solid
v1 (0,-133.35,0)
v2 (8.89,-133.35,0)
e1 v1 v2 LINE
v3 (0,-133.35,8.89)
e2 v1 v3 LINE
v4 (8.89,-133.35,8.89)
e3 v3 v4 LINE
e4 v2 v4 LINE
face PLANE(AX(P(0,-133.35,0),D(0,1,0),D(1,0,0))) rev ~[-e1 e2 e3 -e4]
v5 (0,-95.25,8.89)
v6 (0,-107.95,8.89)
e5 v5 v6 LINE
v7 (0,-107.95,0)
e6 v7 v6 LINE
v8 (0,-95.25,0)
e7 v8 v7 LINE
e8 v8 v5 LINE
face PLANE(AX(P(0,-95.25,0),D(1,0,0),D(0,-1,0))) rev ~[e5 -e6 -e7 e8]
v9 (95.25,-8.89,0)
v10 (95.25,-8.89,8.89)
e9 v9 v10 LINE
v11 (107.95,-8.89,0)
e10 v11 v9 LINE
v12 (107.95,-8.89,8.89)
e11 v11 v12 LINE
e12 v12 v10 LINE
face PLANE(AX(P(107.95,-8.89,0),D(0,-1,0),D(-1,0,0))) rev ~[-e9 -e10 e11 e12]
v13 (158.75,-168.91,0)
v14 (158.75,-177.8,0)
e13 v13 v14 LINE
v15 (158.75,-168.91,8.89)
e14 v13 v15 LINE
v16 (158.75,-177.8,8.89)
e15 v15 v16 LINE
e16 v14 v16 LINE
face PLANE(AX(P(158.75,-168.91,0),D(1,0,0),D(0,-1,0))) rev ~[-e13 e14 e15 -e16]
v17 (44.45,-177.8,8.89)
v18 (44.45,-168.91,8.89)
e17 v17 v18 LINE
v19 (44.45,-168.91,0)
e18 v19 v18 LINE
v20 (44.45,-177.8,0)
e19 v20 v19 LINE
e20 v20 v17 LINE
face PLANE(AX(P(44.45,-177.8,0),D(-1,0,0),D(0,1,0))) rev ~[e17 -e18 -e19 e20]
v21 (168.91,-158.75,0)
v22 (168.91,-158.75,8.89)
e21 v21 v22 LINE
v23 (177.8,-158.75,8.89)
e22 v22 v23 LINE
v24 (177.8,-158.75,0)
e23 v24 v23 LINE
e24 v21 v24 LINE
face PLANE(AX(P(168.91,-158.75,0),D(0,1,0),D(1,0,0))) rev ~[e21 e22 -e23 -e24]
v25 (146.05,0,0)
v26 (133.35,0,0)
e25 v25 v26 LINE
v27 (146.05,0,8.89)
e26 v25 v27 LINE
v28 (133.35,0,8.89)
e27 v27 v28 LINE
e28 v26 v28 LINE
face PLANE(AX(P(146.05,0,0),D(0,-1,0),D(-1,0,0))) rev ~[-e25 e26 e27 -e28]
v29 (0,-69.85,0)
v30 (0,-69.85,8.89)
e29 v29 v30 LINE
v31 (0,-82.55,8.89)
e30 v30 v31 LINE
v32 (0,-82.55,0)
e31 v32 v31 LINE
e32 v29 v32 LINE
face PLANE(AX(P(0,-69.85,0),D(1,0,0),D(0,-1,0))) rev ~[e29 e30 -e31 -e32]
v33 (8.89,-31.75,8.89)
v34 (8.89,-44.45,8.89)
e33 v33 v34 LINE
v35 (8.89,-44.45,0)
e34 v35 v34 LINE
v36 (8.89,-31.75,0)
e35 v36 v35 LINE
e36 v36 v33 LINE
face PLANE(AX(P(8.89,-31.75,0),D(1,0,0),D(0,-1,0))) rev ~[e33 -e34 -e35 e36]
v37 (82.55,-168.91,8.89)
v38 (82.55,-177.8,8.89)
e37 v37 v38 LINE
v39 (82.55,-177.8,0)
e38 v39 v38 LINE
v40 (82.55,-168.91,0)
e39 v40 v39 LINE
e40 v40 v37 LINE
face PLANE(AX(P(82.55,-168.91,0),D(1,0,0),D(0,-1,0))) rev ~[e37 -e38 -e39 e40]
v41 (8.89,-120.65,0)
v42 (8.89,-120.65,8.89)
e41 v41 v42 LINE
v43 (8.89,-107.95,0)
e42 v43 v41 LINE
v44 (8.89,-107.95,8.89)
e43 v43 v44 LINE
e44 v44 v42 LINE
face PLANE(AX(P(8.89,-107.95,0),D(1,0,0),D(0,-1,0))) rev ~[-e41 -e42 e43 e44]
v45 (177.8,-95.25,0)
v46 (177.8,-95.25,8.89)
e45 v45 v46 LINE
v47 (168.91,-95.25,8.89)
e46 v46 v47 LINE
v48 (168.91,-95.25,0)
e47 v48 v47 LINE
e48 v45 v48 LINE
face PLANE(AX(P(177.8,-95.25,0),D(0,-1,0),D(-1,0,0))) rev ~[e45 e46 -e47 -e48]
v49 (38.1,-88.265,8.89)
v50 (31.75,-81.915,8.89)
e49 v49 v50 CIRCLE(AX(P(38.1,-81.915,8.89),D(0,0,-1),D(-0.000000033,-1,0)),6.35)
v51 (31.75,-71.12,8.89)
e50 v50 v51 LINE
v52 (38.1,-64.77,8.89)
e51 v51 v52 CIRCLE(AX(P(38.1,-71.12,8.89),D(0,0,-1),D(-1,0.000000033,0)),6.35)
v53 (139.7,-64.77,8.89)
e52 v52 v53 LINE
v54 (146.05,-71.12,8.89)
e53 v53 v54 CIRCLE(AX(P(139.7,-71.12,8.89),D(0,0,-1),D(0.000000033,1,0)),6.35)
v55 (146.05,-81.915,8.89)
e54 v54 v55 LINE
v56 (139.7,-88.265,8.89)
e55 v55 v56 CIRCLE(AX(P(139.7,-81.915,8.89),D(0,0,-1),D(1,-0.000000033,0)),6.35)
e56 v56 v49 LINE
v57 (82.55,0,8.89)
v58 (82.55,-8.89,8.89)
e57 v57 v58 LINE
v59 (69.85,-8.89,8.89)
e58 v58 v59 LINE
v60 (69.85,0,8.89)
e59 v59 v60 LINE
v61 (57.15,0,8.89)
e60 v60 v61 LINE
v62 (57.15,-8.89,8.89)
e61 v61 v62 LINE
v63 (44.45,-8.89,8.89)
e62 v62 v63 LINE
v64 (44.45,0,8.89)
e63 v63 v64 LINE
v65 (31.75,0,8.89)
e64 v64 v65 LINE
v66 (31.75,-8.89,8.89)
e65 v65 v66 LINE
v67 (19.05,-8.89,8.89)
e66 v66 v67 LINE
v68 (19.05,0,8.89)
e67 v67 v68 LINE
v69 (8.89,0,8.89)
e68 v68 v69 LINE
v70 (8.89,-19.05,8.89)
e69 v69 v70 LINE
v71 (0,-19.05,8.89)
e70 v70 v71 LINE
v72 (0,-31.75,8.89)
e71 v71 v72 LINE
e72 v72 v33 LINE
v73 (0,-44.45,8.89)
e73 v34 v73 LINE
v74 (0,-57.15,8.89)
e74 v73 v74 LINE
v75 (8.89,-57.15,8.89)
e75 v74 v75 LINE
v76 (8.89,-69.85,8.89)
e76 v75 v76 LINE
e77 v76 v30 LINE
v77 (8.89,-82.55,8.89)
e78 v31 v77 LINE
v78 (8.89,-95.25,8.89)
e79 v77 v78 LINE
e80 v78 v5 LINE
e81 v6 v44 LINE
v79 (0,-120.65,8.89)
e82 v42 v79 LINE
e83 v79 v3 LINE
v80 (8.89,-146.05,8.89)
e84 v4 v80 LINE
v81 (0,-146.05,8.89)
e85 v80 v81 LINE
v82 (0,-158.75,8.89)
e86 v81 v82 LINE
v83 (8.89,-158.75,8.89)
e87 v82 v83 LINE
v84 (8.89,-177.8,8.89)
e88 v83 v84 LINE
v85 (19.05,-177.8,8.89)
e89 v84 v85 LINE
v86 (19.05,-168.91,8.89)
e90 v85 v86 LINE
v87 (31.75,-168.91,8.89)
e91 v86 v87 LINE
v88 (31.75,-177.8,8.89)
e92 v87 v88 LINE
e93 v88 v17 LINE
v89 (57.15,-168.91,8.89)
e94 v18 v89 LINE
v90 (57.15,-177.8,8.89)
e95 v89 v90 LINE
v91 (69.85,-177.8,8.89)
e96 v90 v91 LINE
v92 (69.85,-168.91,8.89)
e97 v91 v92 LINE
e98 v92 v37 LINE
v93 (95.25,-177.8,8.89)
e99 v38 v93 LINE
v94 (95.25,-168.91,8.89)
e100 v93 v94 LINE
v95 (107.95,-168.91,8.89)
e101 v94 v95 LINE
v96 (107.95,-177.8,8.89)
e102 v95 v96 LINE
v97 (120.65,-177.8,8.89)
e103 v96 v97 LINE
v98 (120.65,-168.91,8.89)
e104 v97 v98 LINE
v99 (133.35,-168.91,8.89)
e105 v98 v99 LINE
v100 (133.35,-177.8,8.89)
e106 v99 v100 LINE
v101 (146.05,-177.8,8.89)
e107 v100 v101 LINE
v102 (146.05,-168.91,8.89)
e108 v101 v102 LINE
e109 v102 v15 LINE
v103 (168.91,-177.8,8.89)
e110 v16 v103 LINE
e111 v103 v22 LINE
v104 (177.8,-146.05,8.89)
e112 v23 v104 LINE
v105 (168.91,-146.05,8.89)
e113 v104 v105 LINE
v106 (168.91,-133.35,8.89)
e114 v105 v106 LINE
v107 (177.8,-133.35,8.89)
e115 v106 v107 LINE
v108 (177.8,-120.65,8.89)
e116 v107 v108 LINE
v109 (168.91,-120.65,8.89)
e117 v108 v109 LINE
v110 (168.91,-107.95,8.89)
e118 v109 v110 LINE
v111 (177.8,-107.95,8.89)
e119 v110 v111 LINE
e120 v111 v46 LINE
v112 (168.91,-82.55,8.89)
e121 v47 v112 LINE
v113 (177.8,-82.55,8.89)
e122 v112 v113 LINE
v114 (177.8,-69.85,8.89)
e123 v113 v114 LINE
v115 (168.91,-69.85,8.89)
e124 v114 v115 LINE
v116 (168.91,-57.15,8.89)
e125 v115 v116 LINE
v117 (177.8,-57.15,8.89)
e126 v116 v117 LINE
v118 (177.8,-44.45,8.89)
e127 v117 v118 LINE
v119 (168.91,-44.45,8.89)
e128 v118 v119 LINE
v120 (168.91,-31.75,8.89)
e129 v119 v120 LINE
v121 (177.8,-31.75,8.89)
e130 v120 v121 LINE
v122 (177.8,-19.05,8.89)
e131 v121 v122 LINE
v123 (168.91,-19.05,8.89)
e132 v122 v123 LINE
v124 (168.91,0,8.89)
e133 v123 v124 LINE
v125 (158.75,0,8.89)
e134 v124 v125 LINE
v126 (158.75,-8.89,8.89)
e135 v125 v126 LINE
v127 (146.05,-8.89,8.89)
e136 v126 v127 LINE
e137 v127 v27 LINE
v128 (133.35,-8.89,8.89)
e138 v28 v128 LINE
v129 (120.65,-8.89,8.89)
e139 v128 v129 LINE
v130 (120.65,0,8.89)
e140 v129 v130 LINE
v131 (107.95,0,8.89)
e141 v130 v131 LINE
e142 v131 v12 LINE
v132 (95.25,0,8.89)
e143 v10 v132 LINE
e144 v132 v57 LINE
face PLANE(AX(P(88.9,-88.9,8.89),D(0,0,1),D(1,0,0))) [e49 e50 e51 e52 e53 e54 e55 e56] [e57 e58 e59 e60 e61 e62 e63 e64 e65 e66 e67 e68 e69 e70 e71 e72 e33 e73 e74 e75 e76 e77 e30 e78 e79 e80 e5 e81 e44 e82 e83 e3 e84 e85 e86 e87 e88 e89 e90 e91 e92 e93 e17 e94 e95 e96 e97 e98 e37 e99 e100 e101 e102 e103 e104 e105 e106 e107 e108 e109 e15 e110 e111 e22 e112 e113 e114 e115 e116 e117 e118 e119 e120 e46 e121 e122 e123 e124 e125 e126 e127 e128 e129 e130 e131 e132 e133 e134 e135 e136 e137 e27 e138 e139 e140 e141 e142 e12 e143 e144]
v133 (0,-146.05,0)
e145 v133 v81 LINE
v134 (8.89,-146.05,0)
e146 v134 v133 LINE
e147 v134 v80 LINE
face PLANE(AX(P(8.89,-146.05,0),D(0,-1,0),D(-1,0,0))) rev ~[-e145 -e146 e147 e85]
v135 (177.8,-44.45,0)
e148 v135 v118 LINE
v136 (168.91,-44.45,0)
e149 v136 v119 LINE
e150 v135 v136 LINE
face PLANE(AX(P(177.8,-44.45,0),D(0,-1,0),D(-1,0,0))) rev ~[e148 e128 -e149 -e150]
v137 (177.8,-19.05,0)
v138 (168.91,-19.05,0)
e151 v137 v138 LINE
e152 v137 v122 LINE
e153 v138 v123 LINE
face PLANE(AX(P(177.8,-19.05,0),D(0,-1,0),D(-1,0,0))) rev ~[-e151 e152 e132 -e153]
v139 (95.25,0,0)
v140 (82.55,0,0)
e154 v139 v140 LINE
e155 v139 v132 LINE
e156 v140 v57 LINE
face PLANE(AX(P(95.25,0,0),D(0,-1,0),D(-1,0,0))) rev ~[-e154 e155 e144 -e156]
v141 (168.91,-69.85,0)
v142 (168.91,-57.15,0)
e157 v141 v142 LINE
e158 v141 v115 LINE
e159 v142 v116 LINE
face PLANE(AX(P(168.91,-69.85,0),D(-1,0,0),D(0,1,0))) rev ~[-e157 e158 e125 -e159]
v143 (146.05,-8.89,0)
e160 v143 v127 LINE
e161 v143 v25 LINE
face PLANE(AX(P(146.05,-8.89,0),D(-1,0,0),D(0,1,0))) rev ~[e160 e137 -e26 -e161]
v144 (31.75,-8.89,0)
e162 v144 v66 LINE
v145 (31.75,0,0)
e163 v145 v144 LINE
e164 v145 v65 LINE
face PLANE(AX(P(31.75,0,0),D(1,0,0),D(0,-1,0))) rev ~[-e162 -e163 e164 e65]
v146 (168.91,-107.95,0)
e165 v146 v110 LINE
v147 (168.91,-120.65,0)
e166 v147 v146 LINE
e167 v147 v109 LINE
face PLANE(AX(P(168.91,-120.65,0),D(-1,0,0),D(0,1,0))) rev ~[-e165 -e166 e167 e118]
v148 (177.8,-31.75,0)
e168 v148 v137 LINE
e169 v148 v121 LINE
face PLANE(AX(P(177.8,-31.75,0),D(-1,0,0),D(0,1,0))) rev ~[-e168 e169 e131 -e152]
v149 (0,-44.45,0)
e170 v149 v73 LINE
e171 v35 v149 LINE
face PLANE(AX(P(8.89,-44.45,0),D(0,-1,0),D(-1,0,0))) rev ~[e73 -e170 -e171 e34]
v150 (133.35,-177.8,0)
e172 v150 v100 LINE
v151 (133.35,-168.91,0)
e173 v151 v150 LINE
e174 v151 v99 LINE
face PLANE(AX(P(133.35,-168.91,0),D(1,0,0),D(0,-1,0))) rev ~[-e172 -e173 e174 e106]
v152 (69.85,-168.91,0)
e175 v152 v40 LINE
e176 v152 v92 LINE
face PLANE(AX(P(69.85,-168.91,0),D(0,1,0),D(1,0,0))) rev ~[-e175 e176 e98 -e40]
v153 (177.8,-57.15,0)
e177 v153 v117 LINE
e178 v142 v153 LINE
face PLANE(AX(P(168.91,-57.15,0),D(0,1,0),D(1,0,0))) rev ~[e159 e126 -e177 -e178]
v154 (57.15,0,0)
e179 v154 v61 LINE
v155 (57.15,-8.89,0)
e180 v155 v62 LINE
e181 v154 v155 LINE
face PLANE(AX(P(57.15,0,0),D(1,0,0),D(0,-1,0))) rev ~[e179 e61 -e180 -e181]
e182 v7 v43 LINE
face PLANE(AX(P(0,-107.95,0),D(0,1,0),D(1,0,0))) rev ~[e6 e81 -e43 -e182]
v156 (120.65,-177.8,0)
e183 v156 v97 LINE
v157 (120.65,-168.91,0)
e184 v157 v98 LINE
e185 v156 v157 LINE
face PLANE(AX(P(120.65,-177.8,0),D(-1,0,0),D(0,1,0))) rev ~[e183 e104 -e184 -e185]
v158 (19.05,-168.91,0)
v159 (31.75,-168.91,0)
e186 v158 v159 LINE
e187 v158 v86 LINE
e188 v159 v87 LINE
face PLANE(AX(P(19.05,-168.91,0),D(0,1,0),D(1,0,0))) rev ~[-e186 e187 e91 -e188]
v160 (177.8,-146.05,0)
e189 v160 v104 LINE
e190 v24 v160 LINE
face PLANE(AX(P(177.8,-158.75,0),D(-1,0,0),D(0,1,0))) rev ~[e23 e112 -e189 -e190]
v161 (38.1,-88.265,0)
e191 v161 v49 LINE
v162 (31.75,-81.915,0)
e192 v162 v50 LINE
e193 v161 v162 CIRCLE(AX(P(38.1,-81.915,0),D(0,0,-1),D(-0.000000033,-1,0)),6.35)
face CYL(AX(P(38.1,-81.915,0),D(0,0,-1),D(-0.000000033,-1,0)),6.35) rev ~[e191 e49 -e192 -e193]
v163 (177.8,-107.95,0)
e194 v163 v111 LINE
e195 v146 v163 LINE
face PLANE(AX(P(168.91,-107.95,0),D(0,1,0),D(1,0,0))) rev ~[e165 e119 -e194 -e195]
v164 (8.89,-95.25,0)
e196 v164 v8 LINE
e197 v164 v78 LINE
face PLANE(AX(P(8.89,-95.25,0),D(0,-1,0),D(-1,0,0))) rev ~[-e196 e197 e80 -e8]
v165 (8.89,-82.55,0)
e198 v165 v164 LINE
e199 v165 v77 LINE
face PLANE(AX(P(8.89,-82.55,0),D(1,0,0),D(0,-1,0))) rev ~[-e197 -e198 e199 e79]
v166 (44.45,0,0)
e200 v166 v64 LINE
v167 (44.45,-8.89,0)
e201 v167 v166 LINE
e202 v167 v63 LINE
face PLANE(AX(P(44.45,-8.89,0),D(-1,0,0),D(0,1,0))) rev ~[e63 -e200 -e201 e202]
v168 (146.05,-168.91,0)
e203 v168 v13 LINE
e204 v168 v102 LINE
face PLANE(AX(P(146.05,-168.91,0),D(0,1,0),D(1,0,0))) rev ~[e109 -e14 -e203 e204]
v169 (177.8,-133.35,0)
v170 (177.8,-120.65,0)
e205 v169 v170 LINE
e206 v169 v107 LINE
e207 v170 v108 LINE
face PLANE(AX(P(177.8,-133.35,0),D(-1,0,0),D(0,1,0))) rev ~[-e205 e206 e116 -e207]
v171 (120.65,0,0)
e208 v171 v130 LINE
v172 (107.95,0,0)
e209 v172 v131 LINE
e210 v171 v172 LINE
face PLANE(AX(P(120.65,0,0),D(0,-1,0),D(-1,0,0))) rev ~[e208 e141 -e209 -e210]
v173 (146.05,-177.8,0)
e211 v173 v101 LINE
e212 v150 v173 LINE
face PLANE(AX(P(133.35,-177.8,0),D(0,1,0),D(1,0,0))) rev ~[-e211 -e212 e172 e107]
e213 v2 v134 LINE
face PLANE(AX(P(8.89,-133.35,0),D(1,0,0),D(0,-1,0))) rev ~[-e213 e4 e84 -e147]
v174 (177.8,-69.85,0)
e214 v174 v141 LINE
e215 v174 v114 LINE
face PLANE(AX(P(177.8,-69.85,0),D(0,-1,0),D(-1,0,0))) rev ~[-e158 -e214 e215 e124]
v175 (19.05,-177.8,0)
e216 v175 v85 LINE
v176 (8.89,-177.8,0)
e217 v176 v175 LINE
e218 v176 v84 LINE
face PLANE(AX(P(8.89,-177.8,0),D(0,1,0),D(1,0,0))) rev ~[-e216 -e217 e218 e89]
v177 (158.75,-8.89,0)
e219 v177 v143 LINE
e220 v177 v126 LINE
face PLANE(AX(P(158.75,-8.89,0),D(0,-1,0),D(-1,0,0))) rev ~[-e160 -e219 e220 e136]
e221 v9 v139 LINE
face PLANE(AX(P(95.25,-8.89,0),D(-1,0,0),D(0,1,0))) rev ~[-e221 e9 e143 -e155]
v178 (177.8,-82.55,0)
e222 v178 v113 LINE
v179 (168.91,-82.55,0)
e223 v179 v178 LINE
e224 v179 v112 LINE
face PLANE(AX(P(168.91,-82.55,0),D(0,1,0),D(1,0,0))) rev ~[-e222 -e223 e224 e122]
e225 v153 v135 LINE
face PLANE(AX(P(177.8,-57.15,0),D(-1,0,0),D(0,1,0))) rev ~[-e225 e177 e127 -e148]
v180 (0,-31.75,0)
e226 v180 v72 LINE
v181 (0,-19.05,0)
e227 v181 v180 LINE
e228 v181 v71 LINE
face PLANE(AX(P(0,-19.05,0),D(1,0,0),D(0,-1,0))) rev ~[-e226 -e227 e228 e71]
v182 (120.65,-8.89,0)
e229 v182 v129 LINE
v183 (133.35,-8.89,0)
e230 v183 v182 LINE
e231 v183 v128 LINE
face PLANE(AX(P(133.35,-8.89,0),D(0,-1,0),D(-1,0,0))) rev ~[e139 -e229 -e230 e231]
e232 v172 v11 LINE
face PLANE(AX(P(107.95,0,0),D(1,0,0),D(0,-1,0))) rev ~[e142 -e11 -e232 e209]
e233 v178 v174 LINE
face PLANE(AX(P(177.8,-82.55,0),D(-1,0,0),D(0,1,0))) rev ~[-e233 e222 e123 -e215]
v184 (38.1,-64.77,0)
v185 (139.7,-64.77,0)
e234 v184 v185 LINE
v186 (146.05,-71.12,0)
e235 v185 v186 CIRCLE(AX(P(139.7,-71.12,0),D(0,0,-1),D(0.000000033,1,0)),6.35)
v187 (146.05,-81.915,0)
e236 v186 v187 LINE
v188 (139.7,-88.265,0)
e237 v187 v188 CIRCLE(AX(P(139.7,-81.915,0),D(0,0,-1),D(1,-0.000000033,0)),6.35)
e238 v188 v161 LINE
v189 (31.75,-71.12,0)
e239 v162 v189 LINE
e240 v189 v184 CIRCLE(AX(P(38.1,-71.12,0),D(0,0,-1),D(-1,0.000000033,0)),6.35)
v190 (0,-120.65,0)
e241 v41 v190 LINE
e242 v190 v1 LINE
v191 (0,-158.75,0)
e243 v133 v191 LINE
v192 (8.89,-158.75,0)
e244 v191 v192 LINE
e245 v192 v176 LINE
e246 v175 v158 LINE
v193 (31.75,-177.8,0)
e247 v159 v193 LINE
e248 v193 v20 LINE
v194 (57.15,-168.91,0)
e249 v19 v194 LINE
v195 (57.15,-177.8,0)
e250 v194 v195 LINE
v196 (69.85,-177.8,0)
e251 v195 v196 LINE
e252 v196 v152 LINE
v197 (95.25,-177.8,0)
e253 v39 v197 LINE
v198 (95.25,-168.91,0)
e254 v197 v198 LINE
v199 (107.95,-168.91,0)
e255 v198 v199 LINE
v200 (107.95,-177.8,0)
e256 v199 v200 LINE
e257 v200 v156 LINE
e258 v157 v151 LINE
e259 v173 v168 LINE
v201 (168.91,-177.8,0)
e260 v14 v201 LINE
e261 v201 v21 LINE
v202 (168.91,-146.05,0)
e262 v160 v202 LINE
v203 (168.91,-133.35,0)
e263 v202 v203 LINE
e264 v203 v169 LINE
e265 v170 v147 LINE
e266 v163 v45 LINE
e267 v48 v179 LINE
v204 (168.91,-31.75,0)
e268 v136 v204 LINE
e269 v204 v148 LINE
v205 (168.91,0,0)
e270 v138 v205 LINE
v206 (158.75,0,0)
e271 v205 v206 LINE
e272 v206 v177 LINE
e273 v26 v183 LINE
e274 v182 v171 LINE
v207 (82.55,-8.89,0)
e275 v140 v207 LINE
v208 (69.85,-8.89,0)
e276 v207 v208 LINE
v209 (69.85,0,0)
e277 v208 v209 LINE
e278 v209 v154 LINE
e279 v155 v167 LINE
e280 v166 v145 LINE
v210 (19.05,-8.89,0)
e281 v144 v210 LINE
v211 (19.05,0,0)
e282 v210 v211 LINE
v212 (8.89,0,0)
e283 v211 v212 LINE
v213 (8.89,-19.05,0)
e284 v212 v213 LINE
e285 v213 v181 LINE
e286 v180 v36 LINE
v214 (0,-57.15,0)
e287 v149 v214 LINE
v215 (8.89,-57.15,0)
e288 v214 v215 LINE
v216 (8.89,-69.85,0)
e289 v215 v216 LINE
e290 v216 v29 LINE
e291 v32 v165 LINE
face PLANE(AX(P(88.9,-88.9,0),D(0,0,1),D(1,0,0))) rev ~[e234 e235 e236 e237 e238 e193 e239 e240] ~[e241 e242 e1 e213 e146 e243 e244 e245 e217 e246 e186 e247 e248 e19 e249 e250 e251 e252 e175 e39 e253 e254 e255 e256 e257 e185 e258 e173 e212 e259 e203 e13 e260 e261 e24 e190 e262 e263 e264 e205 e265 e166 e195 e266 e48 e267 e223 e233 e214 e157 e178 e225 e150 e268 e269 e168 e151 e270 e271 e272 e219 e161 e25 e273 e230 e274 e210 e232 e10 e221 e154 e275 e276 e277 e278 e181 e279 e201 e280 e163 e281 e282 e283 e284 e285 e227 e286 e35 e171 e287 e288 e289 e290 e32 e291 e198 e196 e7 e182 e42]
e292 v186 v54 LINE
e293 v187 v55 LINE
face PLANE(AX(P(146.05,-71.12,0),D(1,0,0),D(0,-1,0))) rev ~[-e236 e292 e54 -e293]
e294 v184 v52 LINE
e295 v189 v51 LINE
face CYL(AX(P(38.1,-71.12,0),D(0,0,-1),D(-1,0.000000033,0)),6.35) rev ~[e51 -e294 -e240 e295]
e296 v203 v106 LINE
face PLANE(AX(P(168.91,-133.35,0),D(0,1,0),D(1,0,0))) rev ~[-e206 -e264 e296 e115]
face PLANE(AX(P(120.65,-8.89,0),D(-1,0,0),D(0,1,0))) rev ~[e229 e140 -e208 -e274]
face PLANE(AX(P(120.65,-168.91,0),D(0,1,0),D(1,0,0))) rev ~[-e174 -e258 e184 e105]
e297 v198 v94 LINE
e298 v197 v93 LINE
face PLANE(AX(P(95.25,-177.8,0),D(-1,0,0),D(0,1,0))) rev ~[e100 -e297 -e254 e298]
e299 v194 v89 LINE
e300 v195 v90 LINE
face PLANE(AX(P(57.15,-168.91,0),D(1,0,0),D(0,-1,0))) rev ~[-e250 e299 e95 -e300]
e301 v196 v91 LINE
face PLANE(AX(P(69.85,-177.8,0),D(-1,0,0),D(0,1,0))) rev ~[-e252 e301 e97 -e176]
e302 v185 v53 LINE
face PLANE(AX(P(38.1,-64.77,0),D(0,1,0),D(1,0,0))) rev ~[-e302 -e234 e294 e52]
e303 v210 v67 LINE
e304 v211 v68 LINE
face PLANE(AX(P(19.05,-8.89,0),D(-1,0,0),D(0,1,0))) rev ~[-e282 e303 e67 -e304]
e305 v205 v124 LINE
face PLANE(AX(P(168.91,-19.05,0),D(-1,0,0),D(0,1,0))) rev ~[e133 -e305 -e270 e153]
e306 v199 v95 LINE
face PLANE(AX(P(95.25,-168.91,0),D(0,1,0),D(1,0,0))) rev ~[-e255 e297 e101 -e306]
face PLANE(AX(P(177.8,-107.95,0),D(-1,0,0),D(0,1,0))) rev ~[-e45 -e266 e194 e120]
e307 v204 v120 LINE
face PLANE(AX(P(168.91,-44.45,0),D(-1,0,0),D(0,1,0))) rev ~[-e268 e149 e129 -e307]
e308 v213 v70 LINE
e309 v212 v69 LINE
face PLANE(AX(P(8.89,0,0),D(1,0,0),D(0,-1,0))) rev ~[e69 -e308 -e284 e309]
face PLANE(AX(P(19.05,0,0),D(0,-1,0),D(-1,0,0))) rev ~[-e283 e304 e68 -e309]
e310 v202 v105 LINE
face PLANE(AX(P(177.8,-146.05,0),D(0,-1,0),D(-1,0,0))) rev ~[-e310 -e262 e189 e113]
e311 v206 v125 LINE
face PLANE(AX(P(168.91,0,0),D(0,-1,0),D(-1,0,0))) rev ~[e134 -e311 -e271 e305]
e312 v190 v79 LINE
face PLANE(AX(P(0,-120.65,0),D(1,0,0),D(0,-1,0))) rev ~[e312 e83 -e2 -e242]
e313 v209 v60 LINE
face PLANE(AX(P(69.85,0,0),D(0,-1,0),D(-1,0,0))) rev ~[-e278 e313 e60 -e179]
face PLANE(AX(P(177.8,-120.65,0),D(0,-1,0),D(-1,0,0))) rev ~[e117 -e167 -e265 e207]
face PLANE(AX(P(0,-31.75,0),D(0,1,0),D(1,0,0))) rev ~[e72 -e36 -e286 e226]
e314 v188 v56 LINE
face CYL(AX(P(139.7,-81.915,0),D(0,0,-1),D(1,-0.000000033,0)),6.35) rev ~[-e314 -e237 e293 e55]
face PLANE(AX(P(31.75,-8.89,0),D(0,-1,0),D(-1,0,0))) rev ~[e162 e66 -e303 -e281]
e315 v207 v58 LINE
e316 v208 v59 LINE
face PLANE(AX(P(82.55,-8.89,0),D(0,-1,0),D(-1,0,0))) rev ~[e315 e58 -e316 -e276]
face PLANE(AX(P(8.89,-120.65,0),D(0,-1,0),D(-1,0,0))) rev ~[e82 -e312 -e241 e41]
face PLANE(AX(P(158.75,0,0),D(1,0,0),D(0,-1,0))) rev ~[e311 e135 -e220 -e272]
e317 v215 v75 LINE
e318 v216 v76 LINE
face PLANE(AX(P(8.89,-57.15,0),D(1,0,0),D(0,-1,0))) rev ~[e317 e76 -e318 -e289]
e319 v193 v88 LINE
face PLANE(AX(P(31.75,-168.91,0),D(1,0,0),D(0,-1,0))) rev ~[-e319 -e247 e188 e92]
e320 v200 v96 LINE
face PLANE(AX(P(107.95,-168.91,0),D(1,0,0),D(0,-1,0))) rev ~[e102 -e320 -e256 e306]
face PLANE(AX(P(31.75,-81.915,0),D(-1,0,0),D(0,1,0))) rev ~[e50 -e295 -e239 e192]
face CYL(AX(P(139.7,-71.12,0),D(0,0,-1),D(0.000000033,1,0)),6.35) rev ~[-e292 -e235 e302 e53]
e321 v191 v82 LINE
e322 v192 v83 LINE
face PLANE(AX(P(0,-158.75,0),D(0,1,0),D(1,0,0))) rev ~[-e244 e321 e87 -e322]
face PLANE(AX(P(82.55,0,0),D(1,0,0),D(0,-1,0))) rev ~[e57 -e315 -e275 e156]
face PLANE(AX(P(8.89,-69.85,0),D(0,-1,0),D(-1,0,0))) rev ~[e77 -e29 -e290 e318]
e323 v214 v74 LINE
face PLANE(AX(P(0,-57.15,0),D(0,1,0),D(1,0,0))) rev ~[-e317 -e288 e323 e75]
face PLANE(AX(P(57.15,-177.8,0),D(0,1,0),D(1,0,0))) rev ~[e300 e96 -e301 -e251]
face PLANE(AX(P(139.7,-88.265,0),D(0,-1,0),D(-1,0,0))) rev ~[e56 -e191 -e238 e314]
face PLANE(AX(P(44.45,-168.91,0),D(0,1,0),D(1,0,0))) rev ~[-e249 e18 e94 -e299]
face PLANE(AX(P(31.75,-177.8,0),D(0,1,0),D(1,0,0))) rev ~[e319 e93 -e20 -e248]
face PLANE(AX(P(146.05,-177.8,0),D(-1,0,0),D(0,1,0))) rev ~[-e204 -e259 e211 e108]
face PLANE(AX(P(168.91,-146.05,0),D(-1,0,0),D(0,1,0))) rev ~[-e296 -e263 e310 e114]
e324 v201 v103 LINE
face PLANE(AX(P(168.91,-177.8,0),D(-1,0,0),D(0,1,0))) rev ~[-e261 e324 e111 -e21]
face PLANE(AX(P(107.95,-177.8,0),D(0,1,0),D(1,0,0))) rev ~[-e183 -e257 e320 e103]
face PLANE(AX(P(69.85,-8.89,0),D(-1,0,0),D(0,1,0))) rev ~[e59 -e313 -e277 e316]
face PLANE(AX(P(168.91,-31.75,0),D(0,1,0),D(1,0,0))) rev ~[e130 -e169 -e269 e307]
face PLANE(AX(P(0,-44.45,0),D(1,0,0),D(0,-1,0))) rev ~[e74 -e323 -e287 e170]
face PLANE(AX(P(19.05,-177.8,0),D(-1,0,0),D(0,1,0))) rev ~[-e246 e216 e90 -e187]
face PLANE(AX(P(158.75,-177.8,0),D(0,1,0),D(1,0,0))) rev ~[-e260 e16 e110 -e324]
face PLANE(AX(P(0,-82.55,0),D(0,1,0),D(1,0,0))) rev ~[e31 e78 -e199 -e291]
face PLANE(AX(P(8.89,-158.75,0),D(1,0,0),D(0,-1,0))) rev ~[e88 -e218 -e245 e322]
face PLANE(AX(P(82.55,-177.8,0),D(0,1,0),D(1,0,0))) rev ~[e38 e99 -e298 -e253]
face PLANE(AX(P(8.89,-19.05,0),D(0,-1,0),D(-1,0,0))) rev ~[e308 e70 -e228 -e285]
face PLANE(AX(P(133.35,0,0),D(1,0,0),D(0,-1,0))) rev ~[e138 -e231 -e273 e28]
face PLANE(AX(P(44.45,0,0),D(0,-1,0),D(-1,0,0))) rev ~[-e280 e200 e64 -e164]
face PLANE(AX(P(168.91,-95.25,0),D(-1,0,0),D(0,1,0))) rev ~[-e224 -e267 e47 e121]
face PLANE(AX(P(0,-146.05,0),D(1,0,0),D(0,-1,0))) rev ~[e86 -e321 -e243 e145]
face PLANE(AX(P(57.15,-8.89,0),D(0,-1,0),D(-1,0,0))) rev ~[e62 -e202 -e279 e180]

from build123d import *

# Parameters (mm, degrees)
F1_DEPTH = 8.89


with BuildPart() as f1:
    # F0 (on Top) → F1 (new body)
    with BuildSketch(Plane.XY):
        Polygon((19.05, 0), (8.89, 0), (8.89, -19.05), (0, -19.05), (0, -31.75), (8.89, -31.75), (8.89, -44.45), (0, -44.45), (0, -57.15), (8.89, -57.15), (8.89, -69.85), (0, -69.85), (0, -82.55), (8.89, -82.55), (8.89, -95.25), (0, -95.25), (0, -107.95), (8.89, -107.95), (8.89, -120.65), (0, -120.65), (0, -133.35), (8.89, -133.35), (8.89, -146.05), (0, -146.05), (0, -158.75), (8.89, -158.75), (8.89, -177.8), (19.05, -177.8), (19.05, -168.91), (31.75, -168.91), (31.75, -177.8), (44.45, -177.8), (44.45, -168.91), (57.15, -168.91), (57.15, -177.8), (69.85, -177.8), (69.85, -168.91), (82.55, -168.91), (82.55, -177.8), (95.25, -177.8), (95.25, -168.91), (107.95, -168.91), (107.95, -177.8), (120.65, -177.8), (120.65, -168.91), (133.35, -168.91), (133.35, -177.8), (146.05, -177.8), (146.05, -168.91), (158.75, -168.91), (158.75, -177.8), (168.91, -177.8), (168.91, -158.75), (177.8, -158.75), (177.8, -146.05), (168.91, -146.05), (168.91, -133.35), (177.8, -133.35), (177.8, -120.65), (168.91, -120.65), (168.91, -107.95), (177.8, -107.95), (177.8, -95.25), (168.91, -95.25), (168.91, -82.55), (177.8, -82.55), (177.8, -69.85), (168.91, -69.85), (168.91, -57.15), (177.8, -57.15), (177.8, -44.45), (168.91, -44.45), (168.91, -31.75), (177.8, -31.75), (177.8, -19.05), (168.91, -19.05), (168.91, 0), (158.75, 0), (158.75, -8.89), (146.05, -8.89), (146.05, 0), (133.35, 0), (133.35, -8.89), (120.65, -8.89), (120.65, 0), (107.95, 0), (107.95, -8.89), (95.25, -8.89), (95.25, 0), (82.55, 0), (82.55, -8.89), (69.85, -8.89), (69.85, 0), (57.15, 0), (57.15, -8.89), (44.45, -8.89), (44.45, 0), (31.75, 0), (31.75, -8.89), (19.05, -8.89), align=None)
        with BuildLine():
            ThreePointArc((31.75, -71.12), (33.609872, -66.629872), (38.1, -64.77))
            Line((38.1, -64.77), (139.7, -64.77))
            ThreePointArc((139.7, -64.77), (144.190128, -66.629872), (146.05, -71.12))
            Line((146.05, -71.12), (146.05, -81.915))
            ThreePointArc((146.05, -81.915), (144.190128, -86.405128), (139.7, -88.265))
            Line((139.7, -88.265), (38.1, -88.265))
            ThreePointArc((38.1, -88.265), (33.609872, -86.405128), (31.75, -81.915))
            Line((31.75, -81.915), (31.75, -71.12))
        make_face(mode=Mode.SUBTRACT)
    extrude(amount=F1_DEPTH)


solid = f1.part
